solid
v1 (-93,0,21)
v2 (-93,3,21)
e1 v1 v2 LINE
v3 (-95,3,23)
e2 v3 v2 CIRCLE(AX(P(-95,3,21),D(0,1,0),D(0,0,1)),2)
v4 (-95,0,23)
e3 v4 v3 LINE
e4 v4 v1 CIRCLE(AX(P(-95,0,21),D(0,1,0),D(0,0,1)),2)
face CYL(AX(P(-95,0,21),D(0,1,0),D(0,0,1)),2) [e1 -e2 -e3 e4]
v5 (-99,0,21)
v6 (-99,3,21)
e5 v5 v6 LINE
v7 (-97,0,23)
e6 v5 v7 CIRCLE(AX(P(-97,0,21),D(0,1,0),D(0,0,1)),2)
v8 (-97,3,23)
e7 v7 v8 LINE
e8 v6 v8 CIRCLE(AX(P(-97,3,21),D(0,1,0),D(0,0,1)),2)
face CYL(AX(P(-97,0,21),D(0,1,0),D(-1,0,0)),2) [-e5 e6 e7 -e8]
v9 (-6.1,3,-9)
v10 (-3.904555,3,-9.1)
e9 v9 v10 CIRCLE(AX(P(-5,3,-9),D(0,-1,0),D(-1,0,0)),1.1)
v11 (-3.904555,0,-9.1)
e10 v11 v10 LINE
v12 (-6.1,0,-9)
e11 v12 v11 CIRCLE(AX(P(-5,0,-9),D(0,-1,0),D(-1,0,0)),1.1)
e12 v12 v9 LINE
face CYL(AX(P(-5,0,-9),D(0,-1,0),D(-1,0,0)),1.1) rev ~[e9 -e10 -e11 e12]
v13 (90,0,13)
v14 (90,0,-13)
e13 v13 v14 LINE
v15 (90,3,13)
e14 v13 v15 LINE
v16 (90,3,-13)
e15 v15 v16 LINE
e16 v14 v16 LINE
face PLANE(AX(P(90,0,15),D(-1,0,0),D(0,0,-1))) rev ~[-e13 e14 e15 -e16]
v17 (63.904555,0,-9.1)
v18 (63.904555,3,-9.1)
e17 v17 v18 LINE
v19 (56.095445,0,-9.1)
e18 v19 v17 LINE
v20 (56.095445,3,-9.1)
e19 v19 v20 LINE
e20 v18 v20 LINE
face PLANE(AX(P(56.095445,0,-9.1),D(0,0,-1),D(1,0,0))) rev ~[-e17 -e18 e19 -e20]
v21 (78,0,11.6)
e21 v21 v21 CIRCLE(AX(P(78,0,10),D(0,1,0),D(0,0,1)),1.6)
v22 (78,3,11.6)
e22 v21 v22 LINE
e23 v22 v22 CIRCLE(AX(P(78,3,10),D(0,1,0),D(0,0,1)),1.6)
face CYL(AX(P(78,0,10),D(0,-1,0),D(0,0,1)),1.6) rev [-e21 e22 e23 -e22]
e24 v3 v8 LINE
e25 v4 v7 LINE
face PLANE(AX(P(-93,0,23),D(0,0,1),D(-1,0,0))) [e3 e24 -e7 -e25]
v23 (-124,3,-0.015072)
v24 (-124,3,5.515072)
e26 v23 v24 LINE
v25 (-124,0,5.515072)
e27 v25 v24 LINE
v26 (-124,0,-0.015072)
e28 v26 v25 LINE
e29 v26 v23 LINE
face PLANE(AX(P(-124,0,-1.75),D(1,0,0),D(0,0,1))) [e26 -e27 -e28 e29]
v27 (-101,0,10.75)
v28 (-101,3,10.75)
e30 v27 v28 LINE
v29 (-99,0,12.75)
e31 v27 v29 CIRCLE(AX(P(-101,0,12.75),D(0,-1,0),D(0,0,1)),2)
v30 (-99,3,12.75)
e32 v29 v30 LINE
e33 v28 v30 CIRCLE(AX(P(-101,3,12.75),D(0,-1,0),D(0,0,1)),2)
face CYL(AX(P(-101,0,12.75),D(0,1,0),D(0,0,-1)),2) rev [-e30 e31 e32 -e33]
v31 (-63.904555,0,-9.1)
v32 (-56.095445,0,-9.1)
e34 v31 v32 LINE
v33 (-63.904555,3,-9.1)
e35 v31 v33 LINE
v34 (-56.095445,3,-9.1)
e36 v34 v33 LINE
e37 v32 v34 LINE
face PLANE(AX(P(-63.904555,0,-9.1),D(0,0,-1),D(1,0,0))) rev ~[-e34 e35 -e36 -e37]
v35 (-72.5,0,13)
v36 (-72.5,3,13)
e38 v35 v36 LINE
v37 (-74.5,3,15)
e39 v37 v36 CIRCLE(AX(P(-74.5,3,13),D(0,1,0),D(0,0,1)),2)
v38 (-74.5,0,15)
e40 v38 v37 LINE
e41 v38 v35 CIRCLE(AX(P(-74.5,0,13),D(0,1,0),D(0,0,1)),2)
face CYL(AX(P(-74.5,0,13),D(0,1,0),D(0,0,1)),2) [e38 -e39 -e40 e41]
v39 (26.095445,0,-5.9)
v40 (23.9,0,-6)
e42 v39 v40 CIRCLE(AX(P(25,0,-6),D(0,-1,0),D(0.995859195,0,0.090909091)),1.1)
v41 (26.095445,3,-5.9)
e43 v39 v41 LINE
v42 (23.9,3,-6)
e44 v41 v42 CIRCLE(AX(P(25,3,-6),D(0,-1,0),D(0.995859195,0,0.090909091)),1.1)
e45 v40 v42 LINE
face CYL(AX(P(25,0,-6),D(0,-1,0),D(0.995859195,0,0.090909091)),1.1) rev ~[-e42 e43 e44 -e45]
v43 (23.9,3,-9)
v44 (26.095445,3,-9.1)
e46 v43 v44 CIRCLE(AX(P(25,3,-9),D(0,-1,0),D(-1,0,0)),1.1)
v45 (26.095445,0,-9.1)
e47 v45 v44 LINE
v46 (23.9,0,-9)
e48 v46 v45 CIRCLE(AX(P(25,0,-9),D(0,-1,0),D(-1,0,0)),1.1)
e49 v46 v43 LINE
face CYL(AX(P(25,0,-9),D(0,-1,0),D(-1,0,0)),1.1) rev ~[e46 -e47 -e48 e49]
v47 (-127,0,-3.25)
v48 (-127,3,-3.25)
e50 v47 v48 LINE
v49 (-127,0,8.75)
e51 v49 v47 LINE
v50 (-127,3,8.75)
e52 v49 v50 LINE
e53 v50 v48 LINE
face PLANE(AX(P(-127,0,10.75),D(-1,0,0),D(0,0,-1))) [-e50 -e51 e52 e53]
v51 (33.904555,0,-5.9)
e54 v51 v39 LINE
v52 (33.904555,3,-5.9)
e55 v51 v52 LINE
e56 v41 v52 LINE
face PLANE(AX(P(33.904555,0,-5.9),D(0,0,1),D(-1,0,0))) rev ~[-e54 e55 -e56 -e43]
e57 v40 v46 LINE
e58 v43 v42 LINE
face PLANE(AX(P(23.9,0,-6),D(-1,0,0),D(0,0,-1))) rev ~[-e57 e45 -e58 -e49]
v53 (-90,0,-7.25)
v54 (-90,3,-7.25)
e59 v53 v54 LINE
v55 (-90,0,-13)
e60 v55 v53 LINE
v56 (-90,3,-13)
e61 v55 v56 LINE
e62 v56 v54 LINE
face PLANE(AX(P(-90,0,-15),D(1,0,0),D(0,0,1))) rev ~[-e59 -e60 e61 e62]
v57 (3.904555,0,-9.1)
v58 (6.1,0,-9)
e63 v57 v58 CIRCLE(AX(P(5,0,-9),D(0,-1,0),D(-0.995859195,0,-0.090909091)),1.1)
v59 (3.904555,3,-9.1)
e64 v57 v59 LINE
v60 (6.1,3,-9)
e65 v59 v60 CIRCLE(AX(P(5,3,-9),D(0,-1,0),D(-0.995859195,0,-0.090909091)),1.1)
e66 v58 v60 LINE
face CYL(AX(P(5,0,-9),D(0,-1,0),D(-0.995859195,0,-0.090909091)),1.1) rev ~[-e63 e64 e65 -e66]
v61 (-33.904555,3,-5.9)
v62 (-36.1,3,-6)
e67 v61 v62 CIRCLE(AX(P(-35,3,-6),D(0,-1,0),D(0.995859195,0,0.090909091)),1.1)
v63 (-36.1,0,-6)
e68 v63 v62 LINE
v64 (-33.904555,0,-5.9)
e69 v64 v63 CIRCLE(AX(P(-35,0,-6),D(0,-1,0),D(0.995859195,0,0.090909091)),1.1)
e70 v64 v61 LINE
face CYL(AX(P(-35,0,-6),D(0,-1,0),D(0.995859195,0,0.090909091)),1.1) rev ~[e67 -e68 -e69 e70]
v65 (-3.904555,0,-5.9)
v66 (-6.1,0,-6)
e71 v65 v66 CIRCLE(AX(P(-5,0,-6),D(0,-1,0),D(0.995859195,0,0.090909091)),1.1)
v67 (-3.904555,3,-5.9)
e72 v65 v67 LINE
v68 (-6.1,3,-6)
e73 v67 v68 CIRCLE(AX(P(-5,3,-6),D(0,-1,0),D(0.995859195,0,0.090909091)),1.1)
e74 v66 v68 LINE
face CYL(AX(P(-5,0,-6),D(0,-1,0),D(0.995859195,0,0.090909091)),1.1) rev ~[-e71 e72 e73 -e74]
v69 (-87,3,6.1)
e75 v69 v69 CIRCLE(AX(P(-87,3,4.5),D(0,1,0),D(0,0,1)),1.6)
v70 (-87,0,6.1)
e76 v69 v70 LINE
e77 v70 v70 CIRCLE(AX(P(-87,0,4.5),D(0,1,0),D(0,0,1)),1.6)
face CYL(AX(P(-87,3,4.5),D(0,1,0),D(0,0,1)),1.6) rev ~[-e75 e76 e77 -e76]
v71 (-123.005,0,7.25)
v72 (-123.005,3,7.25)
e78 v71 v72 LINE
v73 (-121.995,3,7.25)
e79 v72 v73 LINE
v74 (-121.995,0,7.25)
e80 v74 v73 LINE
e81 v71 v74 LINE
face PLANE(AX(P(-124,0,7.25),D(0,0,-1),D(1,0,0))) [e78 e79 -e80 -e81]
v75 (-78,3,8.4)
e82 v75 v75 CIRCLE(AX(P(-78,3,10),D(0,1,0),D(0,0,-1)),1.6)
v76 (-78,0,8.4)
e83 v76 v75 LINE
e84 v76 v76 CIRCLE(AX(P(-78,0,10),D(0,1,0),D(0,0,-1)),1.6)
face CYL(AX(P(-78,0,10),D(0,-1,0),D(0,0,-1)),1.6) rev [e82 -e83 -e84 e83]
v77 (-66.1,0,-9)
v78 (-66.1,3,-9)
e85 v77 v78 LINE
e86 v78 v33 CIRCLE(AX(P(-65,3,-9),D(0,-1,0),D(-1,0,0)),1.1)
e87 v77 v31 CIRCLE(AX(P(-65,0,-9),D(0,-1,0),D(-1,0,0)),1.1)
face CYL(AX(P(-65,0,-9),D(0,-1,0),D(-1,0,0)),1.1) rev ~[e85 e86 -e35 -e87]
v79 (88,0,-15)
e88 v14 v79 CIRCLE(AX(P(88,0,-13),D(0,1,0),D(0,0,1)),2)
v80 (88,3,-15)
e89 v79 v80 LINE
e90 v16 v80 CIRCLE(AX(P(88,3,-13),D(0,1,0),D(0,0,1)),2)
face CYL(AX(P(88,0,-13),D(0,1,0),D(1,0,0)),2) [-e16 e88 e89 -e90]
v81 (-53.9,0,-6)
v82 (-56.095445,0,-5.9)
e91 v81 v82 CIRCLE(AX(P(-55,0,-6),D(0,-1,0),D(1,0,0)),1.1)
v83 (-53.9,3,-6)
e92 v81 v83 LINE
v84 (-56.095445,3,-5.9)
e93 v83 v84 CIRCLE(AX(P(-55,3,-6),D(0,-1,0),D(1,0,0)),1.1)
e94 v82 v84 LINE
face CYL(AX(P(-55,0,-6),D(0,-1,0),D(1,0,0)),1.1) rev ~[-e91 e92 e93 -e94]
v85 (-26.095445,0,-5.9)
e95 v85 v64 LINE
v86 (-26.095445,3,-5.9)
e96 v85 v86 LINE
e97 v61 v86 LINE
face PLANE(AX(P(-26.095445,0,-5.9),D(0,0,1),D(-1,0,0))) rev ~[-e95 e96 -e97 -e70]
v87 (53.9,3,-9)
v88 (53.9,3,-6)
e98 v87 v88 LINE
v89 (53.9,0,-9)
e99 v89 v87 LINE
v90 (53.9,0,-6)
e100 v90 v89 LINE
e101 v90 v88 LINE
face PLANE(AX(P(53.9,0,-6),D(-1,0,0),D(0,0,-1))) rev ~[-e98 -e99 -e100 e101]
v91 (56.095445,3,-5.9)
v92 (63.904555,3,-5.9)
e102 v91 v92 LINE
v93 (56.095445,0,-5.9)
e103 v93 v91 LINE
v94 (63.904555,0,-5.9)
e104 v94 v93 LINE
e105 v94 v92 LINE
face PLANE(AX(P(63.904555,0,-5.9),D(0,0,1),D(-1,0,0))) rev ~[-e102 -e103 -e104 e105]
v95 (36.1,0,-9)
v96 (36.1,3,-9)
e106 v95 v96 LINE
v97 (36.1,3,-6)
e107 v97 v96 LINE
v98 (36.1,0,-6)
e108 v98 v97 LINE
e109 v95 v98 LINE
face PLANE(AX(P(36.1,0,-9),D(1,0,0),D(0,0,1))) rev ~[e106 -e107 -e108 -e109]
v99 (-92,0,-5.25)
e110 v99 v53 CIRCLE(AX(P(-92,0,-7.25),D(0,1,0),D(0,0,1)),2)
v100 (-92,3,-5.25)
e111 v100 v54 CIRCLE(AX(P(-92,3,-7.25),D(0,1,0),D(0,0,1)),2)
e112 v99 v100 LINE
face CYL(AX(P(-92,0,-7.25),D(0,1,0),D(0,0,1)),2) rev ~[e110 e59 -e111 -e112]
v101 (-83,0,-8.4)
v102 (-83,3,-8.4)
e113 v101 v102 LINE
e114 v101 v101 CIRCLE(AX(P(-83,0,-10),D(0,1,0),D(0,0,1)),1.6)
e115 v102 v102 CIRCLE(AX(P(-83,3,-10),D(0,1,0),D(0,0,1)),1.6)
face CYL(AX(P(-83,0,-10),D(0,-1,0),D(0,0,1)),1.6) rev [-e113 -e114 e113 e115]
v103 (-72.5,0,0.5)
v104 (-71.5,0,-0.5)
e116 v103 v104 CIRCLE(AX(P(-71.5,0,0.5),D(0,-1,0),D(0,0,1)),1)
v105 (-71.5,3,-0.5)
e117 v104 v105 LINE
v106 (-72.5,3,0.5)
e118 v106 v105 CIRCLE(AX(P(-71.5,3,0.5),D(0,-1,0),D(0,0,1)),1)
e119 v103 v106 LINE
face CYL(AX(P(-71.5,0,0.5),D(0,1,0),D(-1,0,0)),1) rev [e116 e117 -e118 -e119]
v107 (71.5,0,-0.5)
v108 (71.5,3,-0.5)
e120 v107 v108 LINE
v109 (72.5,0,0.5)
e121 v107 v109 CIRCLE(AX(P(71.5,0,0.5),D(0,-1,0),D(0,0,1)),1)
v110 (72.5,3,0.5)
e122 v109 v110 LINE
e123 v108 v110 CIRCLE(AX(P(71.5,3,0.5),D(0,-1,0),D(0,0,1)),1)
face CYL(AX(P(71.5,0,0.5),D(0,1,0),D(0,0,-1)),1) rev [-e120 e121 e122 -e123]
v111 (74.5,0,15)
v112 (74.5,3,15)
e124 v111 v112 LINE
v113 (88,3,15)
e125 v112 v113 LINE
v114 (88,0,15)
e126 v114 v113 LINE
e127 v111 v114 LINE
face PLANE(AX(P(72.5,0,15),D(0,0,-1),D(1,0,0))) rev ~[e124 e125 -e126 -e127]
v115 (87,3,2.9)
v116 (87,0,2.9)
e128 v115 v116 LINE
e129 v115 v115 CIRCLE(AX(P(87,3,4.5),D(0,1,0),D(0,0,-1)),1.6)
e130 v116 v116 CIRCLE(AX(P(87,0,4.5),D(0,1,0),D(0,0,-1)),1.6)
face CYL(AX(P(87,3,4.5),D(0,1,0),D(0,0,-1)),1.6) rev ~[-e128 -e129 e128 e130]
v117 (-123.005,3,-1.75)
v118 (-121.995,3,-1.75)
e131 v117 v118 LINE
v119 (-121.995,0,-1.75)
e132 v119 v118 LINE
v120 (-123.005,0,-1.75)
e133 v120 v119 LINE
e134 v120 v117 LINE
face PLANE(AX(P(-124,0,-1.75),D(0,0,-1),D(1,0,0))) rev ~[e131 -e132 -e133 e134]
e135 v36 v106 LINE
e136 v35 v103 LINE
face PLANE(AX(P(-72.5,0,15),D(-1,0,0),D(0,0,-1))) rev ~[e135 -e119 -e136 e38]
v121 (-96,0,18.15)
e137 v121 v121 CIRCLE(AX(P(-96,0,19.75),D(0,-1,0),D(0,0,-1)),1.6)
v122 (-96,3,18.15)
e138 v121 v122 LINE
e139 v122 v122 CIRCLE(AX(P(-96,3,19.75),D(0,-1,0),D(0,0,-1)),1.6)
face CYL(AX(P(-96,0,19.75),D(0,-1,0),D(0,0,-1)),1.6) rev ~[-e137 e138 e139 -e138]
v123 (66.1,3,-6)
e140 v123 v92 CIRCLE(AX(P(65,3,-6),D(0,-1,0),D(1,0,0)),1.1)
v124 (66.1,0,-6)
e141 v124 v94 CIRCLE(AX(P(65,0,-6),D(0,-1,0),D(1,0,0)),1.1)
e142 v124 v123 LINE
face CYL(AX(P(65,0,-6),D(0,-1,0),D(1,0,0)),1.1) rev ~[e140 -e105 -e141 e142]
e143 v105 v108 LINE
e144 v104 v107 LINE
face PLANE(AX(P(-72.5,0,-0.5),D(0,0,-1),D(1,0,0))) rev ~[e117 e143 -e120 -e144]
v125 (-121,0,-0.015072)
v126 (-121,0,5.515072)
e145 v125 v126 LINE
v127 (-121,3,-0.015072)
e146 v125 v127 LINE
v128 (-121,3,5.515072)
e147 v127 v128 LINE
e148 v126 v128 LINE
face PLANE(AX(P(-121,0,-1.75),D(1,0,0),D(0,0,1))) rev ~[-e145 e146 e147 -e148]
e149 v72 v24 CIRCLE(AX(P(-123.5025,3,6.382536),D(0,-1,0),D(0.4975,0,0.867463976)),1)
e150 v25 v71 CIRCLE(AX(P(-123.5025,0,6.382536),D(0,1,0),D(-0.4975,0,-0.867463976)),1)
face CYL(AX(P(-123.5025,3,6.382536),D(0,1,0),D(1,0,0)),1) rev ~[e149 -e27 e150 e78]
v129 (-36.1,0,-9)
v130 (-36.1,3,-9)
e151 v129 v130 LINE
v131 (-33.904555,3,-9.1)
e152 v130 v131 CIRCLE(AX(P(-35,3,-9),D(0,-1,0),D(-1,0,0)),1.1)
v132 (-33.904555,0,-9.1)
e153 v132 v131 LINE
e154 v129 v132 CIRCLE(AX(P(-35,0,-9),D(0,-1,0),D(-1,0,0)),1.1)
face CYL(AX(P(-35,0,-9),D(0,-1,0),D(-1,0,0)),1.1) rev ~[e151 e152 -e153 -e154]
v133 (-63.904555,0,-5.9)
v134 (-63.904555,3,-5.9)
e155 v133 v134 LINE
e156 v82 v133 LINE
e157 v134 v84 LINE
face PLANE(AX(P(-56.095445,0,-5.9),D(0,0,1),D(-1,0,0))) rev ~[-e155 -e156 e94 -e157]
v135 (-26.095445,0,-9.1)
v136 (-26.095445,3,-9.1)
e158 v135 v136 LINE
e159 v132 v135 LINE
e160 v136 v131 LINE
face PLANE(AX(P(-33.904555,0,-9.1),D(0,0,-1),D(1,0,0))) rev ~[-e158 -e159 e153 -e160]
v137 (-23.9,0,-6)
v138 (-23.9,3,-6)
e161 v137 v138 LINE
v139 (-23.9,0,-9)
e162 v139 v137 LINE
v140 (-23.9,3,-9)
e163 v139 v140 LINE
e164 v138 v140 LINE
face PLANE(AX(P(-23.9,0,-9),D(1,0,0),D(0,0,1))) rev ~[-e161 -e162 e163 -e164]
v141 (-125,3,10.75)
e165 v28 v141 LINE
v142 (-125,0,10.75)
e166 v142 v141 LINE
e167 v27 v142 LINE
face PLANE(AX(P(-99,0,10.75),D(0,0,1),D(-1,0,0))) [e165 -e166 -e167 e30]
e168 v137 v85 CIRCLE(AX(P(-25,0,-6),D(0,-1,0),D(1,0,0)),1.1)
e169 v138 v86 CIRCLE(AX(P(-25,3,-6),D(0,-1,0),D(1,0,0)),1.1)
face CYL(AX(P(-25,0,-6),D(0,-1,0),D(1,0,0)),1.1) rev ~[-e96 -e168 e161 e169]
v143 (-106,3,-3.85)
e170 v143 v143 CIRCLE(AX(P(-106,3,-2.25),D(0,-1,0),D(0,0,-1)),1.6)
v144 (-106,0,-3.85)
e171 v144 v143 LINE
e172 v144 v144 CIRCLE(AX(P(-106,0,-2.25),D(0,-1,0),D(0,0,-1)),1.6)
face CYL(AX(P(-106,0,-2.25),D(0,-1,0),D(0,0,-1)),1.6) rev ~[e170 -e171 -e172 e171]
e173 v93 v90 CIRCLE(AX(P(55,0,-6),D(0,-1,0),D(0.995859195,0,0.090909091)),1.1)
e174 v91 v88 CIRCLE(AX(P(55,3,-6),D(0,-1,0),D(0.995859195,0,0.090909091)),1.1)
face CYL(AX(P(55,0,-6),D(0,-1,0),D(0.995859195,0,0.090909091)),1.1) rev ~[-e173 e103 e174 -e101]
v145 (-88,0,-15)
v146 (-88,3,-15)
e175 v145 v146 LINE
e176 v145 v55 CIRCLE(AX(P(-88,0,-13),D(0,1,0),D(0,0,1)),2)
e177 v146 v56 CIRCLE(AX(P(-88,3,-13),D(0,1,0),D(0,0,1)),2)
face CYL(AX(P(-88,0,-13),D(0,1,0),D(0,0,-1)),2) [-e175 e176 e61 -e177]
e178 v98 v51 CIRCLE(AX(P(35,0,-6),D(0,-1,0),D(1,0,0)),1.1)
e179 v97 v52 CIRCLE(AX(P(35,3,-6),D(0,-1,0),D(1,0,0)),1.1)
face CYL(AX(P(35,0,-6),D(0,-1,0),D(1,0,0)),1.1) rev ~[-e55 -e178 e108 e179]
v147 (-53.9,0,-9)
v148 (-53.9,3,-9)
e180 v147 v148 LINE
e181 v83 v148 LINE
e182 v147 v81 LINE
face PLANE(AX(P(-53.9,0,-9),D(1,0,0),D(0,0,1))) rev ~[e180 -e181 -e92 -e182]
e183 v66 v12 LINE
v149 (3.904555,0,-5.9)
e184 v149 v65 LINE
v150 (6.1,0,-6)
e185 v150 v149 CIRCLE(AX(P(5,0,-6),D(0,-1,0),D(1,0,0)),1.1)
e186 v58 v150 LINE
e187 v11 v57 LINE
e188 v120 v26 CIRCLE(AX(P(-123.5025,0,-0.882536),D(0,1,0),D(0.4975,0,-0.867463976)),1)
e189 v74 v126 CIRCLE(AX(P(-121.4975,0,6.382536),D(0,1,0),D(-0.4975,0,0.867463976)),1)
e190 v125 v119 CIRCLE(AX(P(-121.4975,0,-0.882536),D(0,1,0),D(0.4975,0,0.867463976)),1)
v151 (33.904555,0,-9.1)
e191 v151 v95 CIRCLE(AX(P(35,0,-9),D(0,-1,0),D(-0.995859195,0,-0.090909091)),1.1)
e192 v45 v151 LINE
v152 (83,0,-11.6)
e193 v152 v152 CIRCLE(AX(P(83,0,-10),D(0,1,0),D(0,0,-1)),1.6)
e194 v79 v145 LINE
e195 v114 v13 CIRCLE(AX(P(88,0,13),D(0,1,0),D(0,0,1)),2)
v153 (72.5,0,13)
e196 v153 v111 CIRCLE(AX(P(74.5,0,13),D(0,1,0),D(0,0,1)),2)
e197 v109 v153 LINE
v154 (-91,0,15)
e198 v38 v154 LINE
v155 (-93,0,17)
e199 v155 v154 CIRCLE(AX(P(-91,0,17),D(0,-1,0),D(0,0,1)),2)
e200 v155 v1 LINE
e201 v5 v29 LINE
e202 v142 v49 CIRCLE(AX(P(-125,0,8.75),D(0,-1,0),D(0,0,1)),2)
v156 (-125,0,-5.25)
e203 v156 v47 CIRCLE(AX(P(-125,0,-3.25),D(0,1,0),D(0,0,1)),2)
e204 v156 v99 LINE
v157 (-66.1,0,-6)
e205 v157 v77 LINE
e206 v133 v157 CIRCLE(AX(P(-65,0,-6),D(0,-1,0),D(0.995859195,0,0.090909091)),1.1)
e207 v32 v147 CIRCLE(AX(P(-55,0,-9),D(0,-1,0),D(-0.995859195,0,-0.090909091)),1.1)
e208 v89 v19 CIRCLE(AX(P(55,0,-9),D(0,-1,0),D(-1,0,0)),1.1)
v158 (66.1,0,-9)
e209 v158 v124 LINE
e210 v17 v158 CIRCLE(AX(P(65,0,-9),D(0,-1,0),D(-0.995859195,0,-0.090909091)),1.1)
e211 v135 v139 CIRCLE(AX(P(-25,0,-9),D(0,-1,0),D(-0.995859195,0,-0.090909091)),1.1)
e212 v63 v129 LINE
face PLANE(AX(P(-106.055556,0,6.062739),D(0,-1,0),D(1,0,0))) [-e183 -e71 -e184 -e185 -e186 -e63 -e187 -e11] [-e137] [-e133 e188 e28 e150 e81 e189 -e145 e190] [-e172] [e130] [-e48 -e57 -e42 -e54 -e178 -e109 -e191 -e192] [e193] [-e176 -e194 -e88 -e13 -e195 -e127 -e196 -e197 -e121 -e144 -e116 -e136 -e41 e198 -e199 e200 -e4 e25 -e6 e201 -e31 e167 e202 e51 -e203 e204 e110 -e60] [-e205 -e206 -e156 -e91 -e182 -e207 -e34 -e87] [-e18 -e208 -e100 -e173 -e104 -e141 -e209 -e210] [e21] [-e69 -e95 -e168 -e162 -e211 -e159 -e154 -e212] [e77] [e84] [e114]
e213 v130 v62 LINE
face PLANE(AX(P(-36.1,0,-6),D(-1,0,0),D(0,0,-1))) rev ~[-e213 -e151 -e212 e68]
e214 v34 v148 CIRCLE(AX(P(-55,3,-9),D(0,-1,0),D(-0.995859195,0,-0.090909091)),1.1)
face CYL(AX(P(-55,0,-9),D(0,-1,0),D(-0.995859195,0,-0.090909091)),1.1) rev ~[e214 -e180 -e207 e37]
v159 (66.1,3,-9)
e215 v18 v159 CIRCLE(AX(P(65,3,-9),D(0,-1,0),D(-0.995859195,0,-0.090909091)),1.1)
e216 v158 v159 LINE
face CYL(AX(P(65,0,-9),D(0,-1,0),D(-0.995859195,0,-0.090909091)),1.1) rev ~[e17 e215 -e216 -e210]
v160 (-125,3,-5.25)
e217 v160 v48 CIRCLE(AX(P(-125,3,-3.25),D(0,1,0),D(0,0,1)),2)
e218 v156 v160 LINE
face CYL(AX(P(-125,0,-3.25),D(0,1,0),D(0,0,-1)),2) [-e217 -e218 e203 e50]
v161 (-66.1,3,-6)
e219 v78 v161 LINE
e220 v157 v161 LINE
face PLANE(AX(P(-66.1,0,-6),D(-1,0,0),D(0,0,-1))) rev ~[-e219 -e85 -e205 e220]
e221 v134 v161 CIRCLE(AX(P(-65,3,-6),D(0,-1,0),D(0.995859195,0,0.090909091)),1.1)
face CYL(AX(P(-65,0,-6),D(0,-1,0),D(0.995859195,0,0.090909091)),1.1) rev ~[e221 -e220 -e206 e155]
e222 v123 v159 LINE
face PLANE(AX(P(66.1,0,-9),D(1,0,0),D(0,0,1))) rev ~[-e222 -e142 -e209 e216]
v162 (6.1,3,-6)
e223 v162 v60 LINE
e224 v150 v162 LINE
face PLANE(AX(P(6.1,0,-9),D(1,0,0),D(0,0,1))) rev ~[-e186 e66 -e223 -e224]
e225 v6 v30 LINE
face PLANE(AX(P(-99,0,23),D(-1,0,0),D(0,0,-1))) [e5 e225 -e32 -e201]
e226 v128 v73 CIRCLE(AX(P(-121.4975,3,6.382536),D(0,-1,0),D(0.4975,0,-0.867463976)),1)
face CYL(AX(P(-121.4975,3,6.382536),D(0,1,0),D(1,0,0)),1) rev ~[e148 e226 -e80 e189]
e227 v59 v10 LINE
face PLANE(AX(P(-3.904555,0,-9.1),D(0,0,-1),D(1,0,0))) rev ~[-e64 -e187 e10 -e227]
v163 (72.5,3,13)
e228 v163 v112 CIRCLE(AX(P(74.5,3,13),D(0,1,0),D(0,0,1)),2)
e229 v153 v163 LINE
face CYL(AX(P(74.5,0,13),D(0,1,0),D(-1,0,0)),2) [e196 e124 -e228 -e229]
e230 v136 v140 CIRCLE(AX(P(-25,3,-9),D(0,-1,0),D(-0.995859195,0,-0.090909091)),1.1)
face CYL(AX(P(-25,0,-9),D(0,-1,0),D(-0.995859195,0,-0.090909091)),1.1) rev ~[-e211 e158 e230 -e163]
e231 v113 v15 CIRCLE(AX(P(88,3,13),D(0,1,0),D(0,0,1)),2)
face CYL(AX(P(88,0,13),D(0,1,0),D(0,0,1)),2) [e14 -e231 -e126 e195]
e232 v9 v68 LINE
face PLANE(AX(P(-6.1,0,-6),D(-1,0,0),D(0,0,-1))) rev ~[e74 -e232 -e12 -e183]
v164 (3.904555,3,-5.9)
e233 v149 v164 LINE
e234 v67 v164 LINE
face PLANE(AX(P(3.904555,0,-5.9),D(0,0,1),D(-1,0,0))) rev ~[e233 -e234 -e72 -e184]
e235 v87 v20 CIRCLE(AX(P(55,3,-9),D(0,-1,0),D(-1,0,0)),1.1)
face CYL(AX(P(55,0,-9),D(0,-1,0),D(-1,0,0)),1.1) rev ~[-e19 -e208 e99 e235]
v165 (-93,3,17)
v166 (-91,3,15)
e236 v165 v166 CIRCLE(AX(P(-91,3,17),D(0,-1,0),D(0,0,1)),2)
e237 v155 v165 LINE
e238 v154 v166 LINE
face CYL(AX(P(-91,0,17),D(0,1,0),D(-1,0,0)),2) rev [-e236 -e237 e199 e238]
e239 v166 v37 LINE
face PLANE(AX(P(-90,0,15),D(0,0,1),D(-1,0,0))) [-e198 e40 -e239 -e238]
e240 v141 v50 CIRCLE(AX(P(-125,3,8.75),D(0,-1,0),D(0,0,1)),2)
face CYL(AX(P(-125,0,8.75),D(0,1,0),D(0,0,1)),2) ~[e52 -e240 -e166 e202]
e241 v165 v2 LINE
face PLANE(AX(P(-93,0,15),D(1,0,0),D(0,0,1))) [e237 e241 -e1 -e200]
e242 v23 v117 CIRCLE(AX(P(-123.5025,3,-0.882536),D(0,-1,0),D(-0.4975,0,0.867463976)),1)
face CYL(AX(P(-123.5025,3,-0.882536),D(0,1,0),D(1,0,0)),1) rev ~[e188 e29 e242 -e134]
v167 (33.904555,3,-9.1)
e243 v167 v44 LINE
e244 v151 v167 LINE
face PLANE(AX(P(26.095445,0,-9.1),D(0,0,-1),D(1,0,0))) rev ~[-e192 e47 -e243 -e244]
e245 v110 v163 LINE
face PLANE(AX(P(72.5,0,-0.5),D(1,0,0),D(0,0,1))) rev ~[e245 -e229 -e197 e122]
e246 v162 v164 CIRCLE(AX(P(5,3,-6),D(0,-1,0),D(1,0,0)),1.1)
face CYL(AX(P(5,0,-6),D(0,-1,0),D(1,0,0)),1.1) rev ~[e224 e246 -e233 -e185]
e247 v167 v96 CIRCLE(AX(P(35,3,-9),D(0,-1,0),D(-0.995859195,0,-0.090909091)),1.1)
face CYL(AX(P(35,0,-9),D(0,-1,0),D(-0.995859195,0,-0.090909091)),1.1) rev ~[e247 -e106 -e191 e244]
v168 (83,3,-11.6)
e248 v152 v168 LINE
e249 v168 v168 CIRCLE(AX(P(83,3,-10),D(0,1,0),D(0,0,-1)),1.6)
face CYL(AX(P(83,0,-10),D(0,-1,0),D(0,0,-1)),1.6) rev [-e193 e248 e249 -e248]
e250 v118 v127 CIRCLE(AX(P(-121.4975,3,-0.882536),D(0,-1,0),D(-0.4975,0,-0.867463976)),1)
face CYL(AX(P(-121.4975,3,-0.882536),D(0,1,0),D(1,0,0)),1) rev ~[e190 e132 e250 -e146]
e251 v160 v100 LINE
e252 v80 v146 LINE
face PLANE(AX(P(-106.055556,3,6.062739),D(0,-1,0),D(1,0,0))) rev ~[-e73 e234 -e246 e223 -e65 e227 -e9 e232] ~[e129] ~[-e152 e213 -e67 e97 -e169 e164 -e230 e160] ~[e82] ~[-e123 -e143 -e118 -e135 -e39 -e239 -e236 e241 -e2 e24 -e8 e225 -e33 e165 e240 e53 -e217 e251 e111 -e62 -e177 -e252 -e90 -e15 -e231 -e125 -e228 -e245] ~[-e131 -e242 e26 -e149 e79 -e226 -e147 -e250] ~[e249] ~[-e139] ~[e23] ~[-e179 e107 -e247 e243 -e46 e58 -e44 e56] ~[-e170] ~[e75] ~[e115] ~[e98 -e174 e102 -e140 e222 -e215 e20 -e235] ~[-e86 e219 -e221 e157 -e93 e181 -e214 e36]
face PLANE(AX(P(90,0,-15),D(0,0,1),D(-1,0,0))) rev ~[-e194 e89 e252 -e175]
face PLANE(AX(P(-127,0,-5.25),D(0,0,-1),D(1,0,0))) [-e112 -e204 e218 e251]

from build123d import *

# Parameters (mm, degrees)
SKETCH_1_R          = 1.6
EXTRUDE_1_DEPTH     = 3
SKETCH_3_R          = 1.6
CUT_EXTRUDE_1_DEPTH = 92.290744328
FILLET_1_R          = 1
SKETCH_4_W          = 12
SKETCH_4_H          = 3
CUT_EXTRUDE_2_DEPTH = 92.290744328
SKETCH_5_R          = 1
CUT_EXTRUDE_3_DEPTH = 92.290744328
CUT_EXTRUDE_4_DEPTH = 92.290744328
SKETCH_7_R          = 1.6
SKETCH_7_W          = 3
SKETCH_7_H          = 9
EXTRUDE_2_DEPTH     = 3
FILLET_3_R          = 2
SKETCH_8_R          = 1
CUT_EXTRUDE_5_DEPTH = 130.100735862


with BuildPart() as part:
    # 草图1 → 凸台-拉伸1 (new body)
    with BuildSketch(Plane(origin=(0, 0, 0), x_dir=(1, 0, 0), z_dir=(0, 1, 0))):
        Polygon((-90, -15), (-72.5, -15), (-72.5, 0.5), (72.5, 0.5), (72.5, -15), (90, -15), (90, 15), (-90, 15), align=None)
        with Locations(Location((78, -10, 0), (0, 0, 270))):
            Circle(SKETCH_1_R, mode=Mode.SUBTRACT)
        with Locations(Location((-78, -10, 0), (0, 0, 90))):
            Circle(SKETCH_1_R, mode=Mode.SUBTRACT)
        with Locations(Location((-83, 10, 0), (0, 0, 270))):
            Circle(SKETCH_1_R, mode=Mode.SUBTRACT)
        with Locations(Location((83, 10, 0), (0, 0, 90))):
            Circle(SKETCH_1_R, mode=Mode.SUBTRACT)
    extrude(amount=EXTRUDE_1_DEPTH)

    # 草图3 → 切除-拉伸1 (cut, through all)
    with BuildSketch(Plane(origin=(0, 3, 0), x_dir=(1, 0, 0), z_dir=(0, 1, 0))):
        with Locations(Location((87, -4.5, 0), (0, 0, 90))):
            Circle(SKETCH_3_R)
        with Locations(Location((-87, -4.5, 0), (0, 0, 270))):
            Circle(SKETCH_3_R)
    extrude(amount=-CUT_EXTRUDE_1_DEPTH, mode=Mode.SUBTRACT)

    # 圆角1
    fillet_1_edges = [part.edges().sort_by_distance(p)[0] for p in [
        (72.5, 1.5, -0.5),
        (-72.5, 1.5, -0.5),
    ]]
    fillet(fillet_1_edges, radius=FILLET_1_R)

    # 草图4 → 切除-拉伸2 (cut, through all)
    with BuildSketch(Plane.XZ):
        with Locations((60, -7.5)):
            Rectangle(SKETCH_4_W, SKETCH_4_H)
        with Locations((30, -7.5)):
            Rectangle(SKETCH_4_W, SKETCH_4_H)
        with Locations((0, -7.5)):
            Rectangle(SKETCH_4_W, SKETCH_4_H)
        with Locations((-30, -7.5)):
            Rectangle(SKETCH_4_W, SKETCH_4_H)
        with Locations((-60, -7.5)):
            Rectangle(SKETCH_4_W, SKETCH_4_H)
    extrude(amount=-CUT_EXTRUDE_2_DEPTH, mode=Mode.SUBTRACT)

    # 草图5 → 切除-拉伸3 (cut, through all)
    with BuildSketch(Plane.XZ):
        with Locations((65, -9)):
            Circle(SKETCH_5_R)
        with Locations((55, -9)):
            Circle(SKETCH_5_R)
        with Locations((55, -6)):
            Circle(SKETCH_5_R)
        with Locations((65, -6)):
            Circle(SKETCH_5_R)
        with Locations((35, -9)):
            Circle(SKETCH_5_R)
        with Locations((25, -9)):
            Circle(SKETCH_5_R)
        with Locations((25, -6)):
            Circle(SKETCH_5_R)
        with Locations((35, -6)):
            Circle(SKETCH_5_R)
        with Locations((5, -9)):
            Circle(SKETCH_5_R)
        with Locations((-5, -9)):
            Circle(SKETCH_5_R)
        with Locations((-5, -6)):
            Circle(SKETCH_5_R)
        with Locations((5, -6)):
            Circle(SKETCH_5_R)
        with Locations((-25, -9)):
            Circle(SKETCH_5_R)
        with Locations((-35, -9)):
            Circle(SKETCH_5_R)
        with Locations((-35, -6)):
            Circle(SKETCH_5_R)
        with Locations((-25, -6)):
            Circle(SKETCH_5_R)
        with Locations((-55, -9)):
            Circle(SKETCH_5_R)
        with Locations((-65, -9)):
            Circle(SKETCH_5_R)
        with Locations((-65, -6)):
            Circle(SKETCH_5_R)
        with Locations((-55, -6)):
            Circle(SKETCH_5_R)
    extrude(amount=-CUT_EXTRUDE_3_DEPTH, mode=Mode.SUBTRACT)

    # 草图6 → 切除-拉伸4 (cut, through all)
    with BuildSketch(Plane.XZ):
        with BuildLine():
            Line((36.1, -9), (36.1, -6))
            ThreePointArc((36.1, -6), (35.050051841, -4.901139311), (33.904554885, -5.9))
            Line((33.904554885, -5.9), (26.095445115, -5.9))
            ThreePointArc((26.095445115, -5.9), (24.949948159, -4.901139311), (23.9, -6))
            Line((23.9, -6), (23.9, -9))
            ThreePointArc((23.9, -9), (24.949948159, -10.098860689), (26.095445115, -9.1))
            Line((26.095445115, -9.1), (33.904554885, -9.1))
            ThreePointArc((33.904554885, -9.1), (35.050051841, -10.098860689), (36.1, -9))
        make_face()
        with BuildLine():
            Line((66.1, -9), (66.1, -6))
            ThreePointArc((66.1, -6), (65.050051841, -4.901139311), (63.904554885, -5.9))
            Line((63.904554885, -5.9), (56.095445115, -5.9))
            ThreePointArc((56.095445115, -5.9), (54.949948159, -4.901139311), (53.9, -6))
            Line((53.9, -6), (53.9, -9))
            ThreePointArc((53.9, -9), (54.949948159, -10.098860689), (56.095445115, -9.1))
            Line((56.095445115, -9.1), (63.904554885, -9.1))
            ThreePointArc((63.904554885, -9.1), (65.050051841, -10.098860689), (66.1, -9))
        make_face()
        with BuildLine():
            Line((6.1, -9), (6.1, -6))
            ThreePointArc((6.1, -6), (5.050051841, -4.901139311), (3.904554885, -5.9))
            Line((3.904554885, -5.9), (-3.904554885, -5.9))
            ThreePointArc((-3.904554885, -5.9), (-5.050051841, -4.901139311), (-6.1, -6))
            Line((-6.1, -6), (-6.1, -9))
            ThreePointArc((-6.1, -9), (-5.050051841, -10.098860689), (-3.904554885, -9.1))
            Line((-3.904554885, -9.1), (3.904554885, -9.1))
            ThreePointArc((3.904554885, -9.1), (5.050051841, -10.098860689), (6.1, -9))
        make_face()
        with BuildLine():
            Line((-23.9, -9), (-23.9, -6))
            ThreePointArc((-23.9, -6), (-24.949948159, -4.901139311), (-26.095445115, -5.9))
            Line((-26.095445115, -5.9), (-33.904554885, -5.9))
            ThreePointArc((-33.904554885, -5.9), (-35.050051841, -4.901139311), (-36.1, -6))
            Line((-36.1, -6), (-36.1, -9))
            ThreePointArc((-36.1, -9), (-35.050051841, -10.098860689), (-33.904554885, -9.1))
            Line((-33.904554885, -9.1), (-26.095445115, -9.1))
            ThreePointArc((-26.095445115, -9.1), (-24.949948159, -10.098860689), (-23.9, -9))
        make_face()
        with BuildLine():
            Line((-53.9, -9), (-53.9, -6))
            ThreePointArc((-53.9, -6), (-54.949948159, -4.901139311), (-56.095445115, -5.9))
            Line((-56.095445115, -5.9), (-63.904554885, -5.9))
            ThreePointArc((-63.904554885, -5.9), (-65.050051841, -4.901139311), (-66.1, -6))
            Line((-66.1, -6), (-66.1, -9))
            ThreePointArc((-66.1, -9), (-65.050051841, -10.098860689), (-63.904554885, -9.1))
            Line((-63.904554885, -9.1), (-56.095445115, -9.1))
            ThreePointArc((-56.095445115, -9.1), (-54.949948159, -10.098860689), (-53.9, -9))
        make_face()
    extrude(amount=-CUT_EXTRUDE_4_DEPTH, mode=Mode.SUBTRACT)

    # 草图7 → 凸台-拉伸2 (add)
    with BuildSketch(Plane.XZ):
        Polygon((-90, -5.25), (-90, 15), (-93, 15), (-93, 23), (-99, 23), (-99, 10.75), (-127, 10.75), (-127, -5.25), align=None)
        with Locations(Location((-96, 19.75, 0), (0, 0, 270))):
            Circle(SKETCH_7_R, mode=Mode.SUBTRACT)
        with Locations(Location((-106, -2.25, 0), (0, 0, 270))):
            Circle(SKETCH_7_R, mode=Mode.SUBTRACT)
        with Locations((-122.5, 2.75)):
            Rectangle(SKETCH_7_W, SKETCH_7_H, mode=Mode.SUBTRACT)
    extrude(amount=-EXTRUDE_2_DEPTH)

    # 圆角3
    fillet_3_edges = [part.edges().sort_by_distance(p)[0] for p in [
        (90, 1.5, 15),
        (72.5, 1.5, 15),
        (-72.5, 1.5, 15),
        (-90, 1.5, -15),
        (90, 1.5, -15),
        (-93, 1.5, 15),
        (-93, 1.5, 23),
        (-99, 1.5, 23),
        (-99, 1.5, 10.75),
        (-127, 1.5, 10.75),
        (-127, 1.5, -5.25),
        (-90, 1.5, -5.25),
    ]]
    fillet(fillet_3_edges, radius=FILLET_3_R)

    # 草图8 → 切除-拉伸5 (cut, through all)
    with BuildSketch(Plane(origin=(0, 3, 0), x_dir=(1, 0, 0), z_dir=(0, 1, 0))):
        with Locations((-123.5025, 0.882536024)):
            Circle(SKETCH_8_R)
        with Locations((-121.4975, 0.882536024)):
            Circle(SKETCH_8_R)
        with Locations((-121.4975, -6.382536024)):
            Circle(SKETCH_8_R)
        with Locations((-123.5025, -6.382536024)):
            Circle(SKETCH_8_R)
    extrude(amount=-CUT_EXTRUDE_5_DEPTH, mode=Mode.SUBTRACT)


solid = part.part
